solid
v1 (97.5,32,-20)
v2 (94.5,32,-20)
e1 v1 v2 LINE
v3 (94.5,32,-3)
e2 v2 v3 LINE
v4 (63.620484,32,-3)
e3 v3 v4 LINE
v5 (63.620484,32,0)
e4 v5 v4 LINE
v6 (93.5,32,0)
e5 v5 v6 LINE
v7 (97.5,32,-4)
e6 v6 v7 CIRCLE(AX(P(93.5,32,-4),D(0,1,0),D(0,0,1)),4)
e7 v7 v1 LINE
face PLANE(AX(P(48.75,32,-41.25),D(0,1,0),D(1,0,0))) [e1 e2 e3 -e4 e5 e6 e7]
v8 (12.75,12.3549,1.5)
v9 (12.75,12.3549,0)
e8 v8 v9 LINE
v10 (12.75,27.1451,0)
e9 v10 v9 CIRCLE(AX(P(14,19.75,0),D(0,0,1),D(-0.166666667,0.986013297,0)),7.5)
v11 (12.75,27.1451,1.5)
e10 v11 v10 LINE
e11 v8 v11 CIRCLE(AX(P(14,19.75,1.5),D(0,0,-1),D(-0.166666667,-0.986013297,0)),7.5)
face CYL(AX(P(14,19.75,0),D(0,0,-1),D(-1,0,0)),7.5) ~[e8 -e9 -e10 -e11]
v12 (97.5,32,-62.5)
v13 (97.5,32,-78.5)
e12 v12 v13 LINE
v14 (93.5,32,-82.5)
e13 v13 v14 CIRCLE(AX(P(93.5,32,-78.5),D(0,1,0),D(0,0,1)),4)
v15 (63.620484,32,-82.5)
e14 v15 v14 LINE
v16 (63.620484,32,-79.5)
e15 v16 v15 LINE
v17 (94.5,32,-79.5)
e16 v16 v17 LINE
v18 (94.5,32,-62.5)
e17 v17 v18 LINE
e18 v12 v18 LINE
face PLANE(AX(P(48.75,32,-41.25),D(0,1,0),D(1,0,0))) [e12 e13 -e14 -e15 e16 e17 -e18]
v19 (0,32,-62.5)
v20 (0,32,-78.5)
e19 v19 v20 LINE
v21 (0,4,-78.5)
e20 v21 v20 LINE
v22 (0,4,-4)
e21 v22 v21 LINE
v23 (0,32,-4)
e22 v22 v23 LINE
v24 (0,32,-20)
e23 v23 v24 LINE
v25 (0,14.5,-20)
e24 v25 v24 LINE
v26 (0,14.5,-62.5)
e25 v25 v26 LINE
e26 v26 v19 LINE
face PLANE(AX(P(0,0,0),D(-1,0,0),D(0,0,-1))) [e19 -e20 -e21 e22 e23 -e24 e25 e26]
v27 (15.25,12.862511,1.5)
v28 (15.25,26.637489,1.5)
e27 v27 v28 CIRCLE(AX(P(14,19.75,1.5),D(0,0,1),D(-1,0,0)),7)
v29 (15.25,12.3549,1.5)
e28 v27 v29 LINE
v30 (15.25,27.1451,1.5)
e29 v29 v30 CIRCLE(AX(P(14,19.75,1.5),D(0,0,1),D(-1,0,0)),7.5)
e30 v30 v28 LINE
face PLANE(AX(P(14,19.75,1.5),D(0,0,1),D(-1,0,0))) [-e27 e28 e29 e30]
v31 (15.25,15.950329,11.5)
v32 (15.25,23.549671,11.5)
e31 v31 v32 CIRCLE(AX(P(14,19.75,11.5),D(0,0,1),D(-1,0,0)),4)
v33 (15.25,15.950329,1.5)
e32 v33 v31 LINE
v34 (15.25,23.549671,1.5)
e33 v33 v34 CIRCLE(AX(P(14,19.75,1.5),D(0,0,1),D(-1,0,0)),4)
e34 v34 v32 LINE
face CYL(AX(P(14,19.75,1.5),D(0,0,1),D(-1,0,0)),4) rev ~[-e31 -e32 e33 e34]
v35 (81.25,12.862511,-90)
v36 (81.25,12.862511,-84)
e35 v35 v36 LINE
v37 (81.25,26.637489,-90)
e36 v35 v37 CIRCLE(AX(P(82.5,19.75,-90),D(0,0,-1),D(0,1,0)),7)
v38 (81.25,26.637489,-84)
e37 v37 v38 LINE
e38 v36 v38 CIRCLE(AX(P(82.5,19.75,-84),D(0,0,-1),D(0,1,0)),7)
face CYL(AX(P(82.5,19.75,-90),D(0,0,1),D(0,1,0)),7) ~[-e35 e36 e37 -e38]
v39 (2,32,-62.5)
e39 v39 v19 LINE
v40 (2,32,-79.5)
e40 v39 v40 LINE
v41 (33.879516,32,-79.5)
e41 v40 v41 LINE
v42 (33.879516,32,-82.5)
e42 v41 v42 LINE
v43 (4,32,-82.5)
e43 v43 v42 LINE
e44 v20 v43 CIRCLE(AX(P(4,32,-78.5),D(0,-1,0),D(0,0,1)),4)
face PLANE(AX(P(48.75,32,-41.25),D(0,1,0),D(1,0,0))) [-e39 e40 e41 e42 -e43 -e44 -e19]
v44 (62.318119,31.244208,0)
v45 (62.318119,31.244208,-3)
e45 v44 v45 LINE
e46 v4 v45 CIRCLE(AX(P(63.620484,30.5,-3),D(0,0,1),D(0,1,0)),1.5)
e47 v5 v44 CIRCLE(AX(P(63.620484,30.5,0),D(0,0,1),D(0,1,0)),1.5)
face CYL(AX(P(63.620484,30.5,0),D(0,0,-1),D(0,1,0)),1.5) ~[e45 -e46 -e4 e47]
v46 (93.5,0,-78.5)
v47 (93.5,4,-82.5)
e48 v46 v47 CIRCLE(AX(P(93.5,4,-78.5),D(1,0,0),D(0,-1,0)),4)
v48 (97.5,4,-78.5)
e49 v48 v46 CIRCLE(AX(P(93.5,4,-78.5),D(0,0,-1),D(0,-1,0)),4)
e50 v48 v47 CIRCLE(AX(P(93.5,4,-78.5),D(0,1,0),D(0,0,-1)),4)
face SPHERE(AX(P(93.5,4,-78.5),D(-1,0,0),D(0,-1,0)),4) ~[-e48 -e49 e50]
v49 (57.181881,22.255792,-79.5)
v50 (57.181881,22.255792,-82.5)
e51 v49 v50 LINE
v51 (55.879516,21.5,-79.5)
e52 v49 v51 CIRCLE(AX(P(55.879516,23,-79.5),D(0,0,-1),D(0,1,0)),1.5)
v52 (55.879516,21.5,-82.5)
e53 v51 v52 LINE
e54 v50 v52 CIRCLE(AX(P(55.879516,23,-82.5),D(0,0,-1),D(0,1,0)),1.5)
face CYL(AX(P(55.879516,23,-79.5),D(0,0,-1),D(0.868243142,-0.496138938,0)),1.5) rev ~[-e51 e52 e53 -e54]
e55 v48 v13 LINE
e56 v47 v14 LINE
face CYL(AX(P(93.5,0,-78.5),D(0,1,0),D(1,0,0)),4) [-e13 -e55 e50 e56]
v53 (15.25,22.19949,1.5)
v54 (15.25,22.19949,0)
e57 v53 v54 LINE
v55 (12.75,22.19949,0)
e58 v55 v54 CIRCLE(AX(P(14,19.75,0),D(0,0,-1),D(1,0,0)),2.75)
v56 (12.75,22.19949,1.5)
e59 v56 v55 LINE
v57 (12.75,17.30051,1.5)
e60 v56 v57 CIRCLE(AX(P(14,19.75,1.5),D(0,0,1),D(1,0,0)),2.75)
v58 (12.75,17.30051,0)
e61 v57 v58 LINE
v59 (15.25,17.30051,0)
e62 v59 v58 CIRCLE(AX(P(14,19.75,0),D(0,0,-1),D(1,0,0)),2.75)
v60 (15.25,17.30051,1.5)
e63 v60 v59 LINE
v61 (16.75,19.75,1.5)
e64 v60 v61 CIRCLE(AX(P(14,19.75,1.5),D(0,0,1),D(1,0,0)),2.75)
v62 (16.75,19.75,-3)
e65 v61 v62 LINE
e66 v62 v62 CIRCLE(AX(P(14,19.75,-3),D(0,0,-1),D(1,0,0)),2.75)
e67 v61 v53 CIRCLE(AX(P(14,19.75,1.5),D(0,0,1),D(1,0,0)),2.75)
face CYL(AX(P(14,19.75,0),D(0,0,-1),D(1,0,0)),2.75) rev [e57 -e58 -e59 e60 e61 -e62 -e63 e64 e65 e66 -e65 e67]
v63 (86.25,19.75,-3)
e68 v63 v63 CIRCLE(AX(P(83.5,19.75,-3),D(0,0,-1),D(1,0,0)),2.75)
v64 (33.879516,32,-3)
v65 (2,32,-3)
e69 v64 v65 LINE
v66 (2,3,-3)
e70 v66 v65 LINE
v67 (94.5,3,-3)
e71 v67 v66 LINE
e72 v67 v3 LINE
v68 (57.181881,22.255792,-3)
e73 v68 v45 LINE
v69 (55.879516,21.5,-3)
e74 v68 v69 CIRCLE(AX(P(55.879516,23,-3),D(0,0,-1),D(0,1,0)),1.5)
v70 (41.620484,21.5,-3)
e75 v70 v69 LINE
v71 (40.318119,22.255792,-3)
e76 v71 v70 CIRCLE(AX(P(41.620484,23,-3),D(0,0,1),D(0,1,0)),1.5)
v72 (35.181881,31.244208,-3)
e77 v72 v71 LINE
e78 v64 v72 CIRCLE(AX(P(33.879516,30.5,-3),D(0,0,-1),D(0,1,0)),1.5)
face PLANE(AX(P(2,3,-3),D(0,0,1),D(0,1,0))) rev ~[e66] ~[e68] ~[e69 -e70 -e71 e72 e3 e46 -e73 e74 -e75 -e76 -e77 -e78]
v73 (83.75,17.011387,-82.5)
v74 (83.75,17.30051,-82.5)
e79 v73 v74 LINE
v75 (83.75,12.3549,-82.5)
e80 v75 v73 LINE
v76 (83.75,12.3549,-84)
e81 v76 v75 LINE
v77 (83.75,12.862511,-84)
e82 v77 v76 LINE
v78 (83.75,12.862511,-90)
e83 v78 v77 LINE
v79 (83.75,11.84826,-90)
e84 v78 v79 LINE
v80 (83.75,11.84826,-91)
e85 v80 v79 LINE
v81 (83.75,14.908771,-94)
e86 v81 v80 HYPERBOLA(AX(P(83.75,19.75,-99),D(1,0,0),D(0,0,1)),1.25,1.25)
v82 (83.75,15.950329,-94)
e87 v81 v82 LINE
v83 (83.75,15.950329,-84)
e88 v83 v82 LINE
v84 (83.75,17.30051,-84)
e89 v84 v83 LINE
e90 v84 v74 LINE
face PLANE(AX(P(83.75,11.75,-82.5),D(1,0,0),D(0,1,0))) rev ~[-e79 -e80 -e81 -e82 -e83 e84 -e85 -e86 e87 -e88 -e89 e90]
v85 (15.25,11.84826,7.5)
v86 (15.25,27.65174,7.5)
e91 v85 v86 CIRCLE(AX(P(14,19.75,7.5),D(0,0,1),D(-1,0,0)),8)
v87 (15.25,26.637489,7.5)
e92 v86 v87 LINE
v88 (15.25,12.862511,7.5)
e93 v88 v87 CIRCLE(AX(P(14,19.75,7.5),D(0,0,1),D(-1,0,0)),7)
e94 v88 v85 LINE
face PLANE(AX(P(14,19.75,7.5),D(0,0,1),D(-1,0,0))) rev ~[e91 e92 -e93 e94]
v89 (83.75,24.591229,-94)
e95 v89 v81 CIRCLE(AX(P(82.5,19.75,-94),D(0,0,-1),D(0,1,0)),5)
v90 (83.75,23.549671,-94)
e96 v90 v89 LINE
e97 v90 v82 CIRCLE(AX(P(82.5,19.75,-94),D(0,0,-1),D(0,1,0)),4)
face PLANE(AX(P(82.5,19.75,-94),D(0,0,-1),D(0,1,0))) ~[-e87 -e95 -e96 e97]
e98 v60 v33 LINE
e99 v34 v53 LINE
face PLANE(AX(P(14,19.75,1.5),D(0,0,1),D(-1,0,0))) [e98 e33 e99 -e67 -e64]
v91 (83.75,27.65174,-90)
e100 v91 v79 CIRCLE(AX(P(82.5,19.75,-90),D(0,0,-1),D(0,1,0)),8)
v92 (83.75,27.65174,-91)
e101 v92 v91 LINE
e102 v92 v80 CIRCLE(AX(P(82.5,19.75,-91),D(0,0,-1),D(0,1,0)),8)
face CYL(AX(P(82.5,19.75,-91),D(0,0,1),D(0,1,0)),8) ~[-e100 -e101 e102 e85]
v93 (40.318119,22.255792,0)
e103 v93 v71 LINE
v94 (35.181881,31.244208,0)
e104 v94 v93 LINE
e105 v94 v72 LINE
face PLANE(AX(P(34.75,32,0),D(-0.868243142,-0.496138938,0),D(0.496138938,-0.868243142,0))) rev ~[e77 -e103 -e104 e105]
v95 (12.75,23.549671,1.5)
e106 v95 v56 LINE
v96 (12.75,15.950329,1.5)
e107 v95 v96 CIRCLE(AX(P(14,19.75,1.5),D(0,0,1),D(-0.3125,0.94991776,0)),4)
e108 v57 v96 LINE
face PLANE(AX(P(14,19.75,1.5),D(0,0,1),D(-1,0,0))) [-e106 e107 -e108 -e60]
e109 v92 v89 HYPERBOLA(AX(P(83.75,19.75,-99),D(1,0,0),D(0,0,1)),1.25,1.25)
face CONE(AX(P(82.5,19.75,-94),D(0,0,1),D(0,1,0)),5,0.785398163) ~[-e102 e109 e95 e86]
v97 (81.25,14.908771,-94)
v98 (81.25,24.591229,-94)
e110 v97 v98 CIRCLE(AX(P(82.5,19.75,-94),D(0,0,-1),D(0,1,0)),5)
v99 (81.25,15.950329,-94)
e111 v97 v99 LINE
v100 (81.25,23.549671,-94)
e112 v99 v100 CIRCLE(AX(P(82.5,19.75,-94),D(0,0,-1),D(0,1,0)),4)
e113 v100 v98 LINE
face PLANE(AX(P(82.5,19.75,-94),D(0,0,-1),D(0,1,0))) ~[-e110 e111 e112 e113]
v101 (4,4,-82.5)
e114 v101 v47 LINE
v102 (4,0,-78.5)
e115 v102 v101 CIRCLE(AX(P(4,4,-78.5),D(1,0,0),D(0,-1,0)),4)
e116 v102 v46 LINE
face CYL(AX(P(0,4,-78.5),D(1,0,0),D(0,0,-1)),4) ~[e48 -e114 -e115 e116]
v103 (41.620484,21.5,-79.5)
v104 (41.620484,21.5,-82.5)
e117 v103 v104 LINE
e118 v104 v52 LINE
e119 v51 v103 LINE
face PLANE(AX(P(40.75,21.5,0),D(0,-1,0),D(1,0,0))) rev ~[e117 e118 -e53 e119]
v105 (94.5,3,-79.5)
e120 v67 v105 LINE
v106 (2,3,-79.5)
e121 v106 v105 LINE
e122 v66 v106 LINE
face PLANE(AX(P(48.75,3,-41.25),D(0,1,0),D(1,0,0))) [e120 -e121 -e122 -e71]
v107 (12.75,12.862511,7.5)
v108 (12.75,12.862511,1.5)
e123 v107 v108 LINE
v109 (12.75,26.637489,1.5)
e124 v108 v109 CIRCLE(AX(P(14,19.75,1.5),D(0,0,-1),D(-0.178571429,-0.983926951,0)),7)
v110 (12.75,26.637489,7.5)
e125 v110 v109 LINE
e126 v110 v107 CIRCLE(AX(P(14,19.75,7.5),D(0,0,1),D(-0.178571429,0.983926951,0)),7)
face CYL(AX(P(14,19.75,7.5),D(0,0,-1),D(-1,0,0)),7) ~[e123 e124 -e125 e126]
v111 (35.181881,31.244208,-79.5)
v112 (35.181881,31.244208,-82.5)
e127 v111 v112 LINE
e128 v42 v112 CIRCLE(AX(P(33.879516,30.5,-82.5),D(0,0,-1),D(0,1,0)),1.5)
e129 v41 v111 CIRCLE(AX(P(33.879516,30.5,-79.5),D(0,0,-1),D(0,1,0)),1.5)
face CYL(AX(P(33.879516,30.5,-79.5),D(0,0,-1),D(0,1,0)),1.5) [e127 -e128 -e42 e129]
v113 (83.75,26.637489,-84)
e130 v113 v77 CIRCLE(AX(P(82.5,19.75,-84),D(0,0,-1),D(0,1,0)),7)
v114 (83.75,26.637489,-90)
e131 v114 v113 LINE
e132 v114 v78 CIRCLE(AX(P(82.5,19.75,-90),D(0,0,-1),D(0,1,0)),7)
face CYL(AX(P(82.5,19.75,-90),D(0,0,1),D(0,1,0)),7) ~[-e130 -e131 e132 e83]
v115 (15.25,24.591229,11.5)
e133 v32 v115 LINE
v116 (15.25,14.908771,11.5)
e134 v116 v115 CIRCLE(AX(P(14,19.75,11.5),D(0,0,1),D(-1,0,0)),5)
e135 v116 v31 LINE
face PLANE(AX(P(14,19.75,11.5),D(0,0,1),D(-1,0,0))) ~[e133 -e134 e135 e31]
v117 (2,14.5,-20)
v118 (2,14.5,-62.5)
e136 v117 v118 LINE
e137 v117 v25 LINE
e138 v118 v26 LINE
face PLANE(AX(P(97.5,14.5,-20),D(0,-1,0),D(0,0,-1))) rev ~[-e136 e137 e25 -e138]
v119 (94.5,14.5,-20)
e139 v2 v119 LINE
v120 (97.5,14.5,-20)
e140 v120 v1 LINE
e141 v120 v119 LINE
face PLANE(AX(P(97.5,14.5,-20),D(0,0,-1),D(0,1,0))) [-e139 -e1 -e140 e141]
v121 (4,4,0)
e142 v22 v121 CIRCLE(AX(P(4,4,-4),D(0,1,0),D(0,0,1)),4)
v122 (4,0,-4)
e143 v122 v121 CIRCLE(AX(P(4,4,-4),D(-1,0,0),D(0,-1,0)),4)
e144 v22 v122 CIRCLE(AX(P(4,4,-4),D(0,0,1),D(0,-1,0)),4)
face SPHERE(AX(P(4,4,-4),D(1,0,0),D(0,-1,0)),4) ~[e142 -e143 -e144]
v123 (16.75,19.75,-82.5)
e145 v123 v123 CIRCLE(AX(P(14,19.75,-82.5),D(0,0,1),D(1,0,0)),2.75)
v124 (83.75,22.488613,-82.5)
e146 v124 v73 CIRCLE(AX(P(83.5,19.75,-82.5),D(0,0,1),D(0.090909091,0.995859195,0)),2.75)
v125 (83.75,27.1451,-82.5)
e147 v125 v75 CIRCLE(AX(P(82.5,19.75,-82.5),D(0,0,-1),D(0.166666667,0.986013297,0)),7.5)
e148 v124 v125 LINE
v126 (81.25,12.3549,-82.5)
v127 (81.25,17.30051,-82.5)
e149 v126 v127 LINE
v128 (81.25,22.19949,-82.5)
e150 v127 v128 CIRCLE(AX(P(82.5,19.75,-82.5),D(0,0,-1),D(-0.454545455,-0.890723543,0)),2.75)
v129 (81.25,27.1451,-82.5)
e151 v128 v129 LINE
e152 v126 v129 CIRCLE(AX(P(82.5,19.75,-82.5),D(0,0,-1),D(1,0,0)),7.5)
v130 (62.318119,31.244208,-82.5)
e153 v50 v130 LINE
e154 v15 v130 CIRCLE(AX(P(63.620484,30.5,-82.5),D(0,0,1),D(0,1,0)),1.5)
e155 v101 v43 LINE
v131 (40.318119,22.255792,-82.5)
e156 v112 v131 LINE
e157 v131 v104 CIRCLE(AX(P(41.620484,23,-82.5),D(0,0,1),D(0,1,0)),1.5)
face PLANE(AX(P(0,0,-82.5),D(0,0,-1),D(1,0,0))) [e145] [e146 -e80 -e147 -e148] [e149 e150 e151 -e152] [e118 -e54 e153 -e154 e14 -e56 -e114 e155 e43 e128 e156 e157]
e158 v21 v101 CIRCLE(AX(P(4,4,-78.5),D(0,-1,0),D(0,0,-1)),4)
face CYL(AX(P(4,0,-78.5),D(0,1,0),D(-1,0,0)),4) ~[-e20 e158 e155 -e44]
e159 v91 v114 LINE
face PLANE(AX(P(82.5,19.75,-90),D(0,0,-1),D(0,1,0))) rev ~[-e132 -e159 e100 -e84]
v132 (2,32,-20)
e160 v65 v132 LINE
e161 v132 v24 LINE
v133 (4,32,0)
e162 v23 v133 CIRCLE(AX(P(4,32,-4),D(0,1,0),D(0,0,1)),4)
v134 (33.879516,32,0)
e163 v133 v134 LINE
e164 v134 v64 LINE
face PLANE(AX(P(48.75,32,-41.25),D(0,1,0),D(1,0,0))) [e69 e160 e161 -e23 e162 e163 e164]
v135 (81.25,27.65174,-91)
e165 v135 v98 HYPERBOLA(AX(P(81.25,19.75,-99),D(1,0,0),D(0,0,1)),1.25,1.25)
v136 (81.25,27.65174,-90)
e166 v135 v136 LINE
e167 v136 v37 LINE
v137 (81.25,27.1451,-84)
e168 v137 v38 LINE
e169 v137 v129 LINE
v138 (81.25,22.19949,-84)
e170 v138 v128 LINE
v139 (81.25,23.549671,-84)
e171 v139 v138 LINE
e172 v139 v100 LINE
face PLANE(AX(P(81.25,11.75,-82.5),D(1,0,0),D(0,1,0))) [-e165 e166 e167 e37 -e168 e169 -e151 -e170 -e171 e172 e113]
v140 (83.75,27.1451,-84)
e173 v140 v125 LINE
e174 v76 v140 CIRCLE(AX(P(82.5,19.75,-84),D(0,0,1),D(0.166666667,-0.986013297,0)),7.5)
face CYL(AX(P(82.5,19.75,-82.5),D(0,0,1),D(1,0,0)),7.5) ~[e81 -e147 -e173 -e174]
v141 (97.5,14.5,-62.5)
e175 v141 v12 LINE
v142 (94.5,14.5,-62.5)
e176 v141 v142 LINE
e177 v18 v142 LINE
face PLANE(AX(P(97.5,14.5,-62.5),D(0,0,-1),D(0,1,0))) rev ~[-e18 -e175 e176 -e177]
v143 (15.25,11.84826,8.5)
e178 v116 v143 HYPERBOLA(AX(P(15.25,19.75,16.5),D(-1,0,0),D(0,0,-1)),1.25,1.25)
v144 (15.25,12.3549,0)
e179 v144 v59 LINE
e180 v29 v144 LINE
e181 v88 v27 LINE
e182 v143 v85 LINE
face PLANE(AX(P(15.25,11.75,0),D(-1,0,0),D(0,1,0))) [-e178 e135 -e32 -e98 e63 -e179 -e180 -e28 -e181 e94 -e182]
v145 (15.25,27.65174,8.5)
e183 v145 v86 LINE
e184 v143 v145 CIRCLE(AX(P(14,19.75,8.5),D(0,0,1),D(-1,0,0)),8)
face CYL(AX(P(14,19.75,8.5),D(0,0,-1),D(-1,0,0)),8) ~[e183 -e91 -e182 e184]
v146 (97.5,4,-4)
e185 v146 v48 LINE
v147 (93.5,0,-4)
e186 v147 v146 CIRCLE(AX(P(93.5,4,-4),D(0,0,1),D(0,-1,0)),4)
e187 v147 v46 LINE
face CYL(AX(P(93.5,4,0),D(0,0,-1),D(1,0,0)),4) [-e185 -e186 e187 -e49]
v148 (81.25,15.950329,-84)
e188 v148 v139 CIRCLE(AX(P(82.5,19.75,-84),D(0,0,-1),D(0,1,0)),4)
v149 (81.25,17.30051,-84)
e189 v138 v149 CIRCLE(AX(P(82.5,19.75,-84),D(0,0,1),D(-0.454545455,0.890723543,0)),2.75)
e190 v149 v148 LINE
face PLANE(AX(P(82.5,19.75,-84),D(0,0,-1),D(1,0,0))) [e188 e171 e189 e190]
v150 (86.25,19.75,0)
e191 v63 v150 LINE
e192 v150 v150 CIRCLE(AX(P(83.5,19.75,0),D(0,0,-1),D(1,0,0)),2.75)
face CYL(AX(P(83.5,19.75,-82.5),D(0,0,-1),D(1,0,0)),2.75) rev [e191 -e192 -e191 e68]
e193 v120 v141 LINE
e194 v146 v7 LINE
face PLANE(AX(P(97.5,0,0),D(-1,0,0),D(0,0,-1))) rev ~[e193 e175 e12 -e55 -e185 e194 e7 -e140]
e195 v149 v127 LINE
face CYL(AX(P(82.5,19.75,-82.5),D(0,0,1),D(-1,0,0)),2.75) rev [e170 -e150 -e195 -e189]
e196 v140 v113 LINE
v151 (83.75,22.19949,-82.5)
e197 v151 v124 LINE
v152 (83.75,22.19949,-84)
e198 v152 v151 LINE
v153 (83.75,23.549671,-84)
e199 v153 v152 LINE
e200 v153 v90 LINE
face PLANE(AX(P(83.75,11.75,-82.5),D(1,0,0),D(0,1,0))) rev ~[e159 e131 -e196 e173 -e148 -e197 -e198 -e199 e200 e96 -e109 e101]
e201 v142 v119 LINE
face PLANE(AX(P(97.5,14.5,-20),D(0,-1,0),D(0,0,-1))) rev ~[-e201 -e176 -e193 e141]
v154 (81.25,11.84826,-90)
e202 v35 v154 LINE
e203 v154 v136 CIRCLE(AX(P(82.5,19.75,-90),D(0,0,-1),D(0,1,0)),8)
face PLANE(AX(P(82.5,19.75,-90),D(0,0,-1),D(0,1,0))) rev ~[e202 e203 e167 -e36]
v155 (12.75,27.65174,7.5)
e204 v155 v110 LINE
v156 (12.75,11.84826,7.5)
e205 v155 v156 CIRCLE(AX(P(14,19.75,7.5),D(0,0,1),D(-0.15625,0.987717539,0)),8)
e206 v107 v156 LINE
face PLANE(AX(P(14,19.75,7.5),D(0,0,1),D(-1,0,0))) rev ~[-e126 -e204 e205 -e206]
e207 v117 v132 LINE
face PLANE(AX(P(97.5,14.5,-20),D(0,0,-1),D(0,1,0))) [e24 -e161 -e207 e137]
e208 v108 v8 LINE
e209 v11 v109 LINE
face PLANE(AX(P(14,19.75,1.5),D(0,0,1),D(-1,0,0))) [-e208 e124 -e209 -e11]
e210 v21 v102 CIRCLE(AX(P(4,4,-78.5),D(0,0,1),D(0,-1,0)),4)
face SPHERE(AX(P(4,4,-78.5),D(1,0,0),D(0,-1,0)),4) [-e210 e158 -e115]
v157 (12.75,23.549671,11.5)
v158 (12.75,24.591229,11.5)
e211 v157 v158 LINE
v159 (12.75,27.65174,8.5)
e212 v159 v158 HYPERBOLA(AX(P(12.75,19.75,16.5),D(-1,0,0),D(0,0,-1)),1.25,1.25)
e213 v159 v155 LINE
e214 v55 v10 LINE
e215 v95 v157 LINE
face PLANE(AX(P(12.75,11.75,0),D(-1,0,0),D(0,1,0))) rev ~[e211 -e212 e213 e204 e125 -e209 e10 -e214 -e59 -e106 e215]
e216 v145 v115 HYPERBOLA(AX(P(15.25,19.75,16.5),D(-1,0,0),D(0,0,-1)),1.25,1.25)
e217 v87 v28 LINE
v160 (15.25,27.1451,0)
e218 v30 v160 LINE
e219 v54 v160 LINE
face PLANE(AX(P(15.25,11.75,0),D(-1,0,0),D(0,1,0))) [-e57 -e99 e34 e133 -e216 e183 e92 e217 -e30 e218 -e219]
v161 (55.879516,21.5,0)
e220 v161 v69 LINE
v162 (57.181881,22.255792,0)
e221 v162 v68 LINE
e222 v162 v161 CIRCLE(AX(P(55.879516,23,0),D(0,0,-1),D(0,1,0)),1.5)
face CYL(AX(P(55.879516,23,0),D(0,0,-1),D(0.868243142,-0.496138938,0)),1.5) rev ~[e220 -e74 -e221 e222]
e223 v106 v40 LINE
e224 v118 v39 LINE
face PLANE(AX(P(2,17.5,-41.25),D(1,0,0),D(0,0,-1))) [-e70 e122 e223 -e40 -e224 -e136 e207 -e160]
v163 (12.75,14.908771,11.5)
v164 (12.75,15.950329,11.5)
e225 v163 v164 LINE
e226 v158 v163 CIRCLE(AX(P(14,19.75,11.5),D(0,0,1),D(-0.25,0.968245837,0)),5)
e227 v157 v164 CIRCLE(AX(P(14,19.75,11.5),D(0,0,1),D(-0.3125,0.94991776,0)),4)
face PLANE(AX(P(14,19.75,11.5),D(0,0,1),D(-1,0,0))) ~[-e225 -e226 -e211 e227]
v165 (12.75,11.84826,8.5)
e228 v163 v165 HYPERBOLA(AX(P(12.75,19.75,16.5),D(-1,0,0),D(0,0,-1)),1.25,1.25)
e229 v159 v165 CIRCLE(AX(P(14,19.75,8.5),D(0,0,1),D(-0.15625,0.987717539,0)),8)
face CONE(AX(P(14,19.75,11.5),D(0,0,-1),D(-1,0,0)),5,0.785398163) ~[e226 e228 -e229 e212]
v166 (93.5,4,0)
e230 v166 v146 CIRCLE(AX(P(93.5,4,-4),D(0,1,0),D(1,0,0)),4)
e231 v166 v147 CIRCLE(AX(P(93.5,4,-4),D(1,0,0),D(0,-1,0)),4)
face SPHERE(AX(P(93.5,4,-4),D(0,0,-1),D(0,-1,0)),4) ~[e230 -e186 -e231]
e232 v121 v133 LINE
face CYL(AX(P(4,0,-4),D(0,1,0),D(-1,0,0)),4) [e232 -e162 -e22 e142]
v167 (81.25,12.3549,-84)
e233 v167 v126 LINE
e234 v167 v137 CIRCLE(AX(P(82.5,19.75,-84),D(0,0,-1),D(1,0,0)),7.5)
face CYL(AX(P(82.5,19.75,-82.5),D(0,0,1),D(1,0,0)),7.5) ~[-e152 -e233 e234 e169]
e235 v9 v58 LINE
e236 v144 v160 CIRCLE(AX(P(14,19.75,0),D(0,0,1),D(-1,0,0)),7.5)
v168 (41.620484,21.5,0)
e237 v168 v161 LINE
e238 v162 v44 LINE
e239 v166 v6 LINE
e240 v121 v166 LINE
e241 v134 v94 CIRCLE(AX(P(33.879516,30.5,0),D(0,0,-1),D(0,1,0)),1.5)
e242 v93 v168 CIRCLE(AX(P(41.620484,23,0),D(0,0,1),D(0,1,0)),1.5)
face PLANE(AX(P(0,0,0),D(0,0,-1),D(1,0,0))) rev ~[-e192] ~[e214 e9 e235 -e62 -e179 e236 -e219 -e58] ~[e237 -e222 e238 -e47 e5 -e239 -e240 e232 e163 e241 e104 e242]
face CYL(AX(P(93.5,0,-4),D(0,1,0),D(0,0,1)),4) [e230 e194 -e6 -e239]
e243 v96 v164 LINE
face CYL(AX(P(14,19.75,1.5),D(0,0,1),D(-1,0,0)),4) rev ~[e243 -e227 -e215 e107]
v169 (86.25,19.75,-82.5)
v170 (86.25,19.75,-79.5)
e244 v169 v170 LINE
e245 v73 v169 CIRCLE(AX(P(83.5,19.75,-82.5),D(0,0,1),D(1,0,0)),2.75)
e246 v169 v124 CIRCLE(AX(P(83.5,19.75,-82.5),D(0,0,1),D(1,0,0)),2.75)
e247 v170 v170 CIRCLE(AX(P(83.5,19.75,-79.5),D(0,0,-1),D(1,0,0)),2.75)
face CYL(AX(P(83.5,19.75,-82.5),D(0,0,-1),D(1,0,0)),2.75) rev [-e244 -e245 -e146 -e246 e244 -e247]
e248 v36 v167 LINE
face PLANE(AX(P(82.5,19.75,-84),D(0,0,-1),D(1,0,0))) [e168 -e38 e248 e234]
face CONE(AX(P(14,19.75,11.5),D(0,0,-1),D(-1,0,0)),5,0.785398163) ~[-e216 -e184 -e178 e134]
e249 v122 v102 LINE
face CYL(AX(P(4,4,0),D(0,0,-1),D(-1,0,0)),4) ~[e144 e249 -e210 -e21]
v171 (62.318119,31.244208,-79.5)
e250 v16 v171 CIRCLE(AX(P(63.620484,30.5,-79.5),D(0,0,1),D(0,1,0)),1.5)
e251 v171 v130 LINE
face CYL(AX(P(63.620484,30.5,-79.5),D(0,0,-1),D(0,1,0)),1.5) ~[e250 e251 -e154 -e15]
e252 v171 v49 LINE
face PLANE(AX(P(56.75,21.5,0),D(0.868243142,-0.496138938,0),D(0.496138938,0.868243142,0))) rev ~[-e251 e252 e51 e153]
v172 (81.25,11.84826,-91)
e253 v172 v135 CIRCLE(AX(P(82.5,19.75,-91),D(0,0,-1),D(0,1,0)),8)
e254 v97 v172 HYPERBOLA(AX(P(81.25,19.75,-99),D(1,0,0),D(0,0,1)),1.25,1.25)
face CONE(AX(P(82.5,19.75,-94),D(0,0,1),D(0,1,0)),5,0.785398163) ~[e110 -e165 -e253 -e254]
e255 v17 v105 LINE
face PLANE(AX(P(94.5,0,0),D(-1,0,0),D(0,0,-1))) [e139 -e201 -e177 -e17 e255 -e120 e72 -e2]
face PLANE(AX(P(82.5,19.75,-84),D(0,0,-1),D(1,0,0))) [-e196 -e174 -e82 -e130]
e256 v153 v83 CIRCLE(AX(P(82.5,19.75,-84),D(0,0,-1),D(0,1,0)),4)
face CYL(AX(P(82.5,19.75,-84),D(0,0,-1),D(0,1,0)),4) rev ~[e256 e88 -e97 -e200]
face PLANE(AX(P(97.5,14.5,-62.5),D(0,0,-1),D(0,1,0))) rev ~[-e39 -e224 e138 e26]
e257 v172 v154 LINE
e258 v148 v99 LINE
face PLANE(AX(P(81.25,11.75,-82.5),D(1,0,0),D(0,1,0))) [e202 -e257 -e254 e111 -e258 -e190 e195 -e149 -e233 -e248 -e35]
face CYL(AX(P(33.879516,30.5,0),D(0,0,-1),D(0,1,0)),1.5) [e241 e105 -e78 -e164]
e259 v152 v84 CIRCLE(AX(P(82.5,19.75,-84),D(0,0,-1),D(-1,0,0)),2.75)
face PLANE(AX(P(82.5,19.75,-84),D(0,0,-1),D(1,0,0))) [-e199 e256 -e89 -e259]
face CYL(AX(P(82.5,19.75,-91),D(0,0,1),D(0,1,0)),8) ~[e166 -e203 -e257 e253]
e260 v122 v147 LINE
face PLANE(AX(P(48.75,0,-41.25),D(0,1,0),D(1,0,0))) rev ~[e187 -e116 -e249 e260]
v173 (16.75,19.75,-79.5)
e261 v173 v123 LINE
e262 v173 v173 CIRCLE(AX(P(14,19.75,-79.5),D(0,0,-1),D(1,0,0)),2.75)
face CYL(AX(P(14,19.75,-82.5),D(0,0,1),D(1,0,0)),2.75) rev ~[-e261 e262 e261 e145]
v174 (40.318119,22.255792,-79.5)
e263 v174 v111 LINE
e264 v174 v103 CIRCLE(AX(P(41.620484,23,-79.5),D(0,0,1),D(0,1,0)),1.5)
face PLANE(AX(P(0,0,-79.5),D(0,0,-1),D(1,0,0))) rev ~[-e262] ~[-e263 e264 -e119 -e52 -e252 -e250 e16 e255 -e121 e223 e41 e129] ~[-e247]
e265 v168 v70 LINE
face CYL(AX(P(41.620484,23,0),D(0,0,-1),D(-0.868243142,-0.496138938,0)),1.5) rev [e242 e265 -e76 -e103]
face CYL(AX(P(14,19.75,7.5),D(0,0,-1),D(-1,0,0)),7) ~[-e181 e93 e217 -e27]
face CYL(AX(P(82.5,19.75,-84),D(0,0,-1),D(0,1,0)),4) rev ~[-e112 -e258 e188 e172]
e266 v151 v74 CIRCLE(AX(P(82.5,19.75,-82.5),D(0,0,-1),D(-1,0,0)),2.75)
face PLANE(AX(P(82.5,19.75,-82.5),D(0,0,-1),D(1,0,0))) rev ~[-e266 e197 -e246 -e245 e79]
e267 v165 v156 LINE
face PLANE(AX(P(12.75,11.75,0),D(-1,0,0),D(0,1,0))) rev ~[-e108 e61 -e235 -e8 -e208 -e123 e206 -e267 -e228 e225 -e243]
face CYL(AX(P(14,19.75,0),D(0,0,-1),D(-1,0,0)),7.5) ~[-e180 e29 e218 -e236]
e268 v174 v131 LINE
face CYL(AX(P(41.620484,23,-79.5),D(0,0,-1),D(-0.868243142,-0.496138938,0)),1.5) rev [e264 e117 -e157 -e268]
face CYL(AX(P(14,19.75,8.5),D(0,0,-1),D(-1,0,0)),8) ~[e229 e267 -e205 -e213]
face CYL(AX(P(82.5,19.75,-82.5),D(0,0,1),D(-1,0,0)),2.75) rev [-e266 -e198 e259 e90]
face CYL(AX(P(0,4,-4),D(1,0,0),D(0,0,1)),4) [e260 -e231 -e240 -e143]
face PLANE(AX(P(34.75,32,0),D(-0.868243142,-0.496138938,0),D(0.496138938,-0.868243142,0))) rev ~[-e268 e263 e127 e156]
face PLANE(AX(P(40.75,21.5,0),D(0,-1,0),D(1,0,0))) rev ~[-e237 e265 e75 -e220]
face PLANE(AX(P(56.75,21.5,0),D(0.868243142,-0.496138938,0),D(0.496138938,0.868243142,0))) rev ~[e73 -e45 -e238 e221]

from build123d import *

# Parameters (mm, degrees)
SKETCH1_W                                    = 97.5
SKETCH1_H                                    = 82.5
BOSS_EXTRUDE1_DEPTH                          = 32
SHELL1_T                                     = -3
FILLET1_R                                    = 4
CUT_EXTRUDE1_START                           = -1
SKETCH4_W                                    = 76.5
SKETCH4_H                                    = 29
CUT_EXTRUDE1_DEPTH                           = 83.5
CUT_EXTRUDE2_REACH                           = 133.668
SKETCH5_W                                    = 42.5
SKETCH5_H                                    = 17.5
CUT_EXTRUDE3_REACH                           = 133.668
FILLET2_R                                    = 1.5
CUT_EXTRUDE4_START                           = -82.5
SKETCH7_R                                    = 2.75
CUT_EXTRUDE4_DEPTH                           = 82.5
SKETCH9_R                                    = 7.5
SKETCH9_R_2                                  = 2.75
BOSS_EXTRUDE3_DEPTH                          = 1.5
CUT_EXTRUDE5_REACH                           = 133.668
SKETCH11_W                                   = 2.5
SKETCH11_H                                   = 16
MIRROR2_AT_THE_SECOND_PLANE_COPY_1_SKETC_R   = 7.5
MIRROR2_AT_THE_SECOND_PLANE_COPY_1_SKETC_R_2 = 2.75
MIRROR2_AT_THE_SECOND_PLANE_COPY_1_DEPTH     = 1.5
MIRROR2_AT_THE_SECOND_PLANE_COPY_3_REACH     = 133.668
MIRROR2_AT_THE_SECOND_PLANE_COPY_3_SKETC_W   = 2.5
MIRROR2_AT_THE_SECOND_PLANE_COPY_3_SKETC_H   = 16
SKETCH12_W                                   = 25.238507428
SKETCH12_H                                   = 22.458767107
CUT_EXTRUDE6_DEPTH                           = 11.5
CUT_EXTRUDE7_REACH                           = 141.163
SKETCH13_W                                   = 31.509123874
SKETCH13_H                                   = 19.339493898


with BuildPart() as part:
    # Sketch1 → Boss-Extrude1 (new body)
    with BuildSketch(Plane(origin=(0, 0, 0), x_dir=(1, 0, 0), z_dir=(0, 1, 0))):
        with Locations((48.75, 41.25)):
            Rectangle(SKETCH1_W, SKETCH1_H)
    extrude(amount=BOSS_EXTRUDE1_DEPTH)

    # Shell1
    shell1_openings = [part.faces().sort_by_distance(p)[0] for p in [
        (48.75, 32, -41.25),
    ]]
    offset(amount=SHELL1_T, openings=shell1_openings, kind=Kind.INTERSECTION)

    # Fillet1
    fillet1_edges = [part.edges().sort_by_distance(p)[0] for p in [
        (48.75, 0, -82.5),
        (97.5, 0, -41.25),
        (48.75, 0, 0),
        (0, 0, -41.25),
        (0, 16, -82.5),
        (97.5, 16, -82.5),
        (97.5, 16, 0),
        (0, 16, 0),
    ]]
    fillet(fillet1_edges, radius=FILLET1_R)

    # Sketch4 → Cut-Extrude1 (cut)
    with BuildSketch(Plane(origin=(3, 0, 0), x_dir=(0, 0, -1), z_dir=(1, 0, 0)).offset(CUT_EXTRUDE1_START)):
        with Locations((41.25, 17.5)):
            Rectangle(SKETCH4_W, SKETCH4_H)
    extrude(amount=CUT_EXTRUDE1_DEPTH, mode=Mode.SUBTRACT)

    # Cut-Extrude2: up to this face of the body (flat: up to its plane)
    cut_extrude2_end = Plane(part.part.faces().sort_by_distance((0, 18, -41.25))[0])
    # Sketch5 → Cut-Extrude2 (cut, up to the picked face)
    with BuildSketch(Plane(origin=(97.5, 0, 0), x_dir=(0, 0, -1), z_dir=(1, 0, 0)), mode=Mode.PRIVATE) as cut_extrude2_sk1:
        with Locations((41.25, 23.25)):
            Rectangle(SKETCH5_W, SKETCH5_H)
    cut_extrude2_tool1 = split(extrude(cut_extrude2_sk1.sketch, amount=-CUT_EXTRUDE2_REACH, mode=Mode.PRIVATE), bisect_by=cut_extrude2_end, keep=Keep.BOTH, mode=Mode.PRIVATE)
    add(cut_extrude2_tool1.solids().sort_by(Axis((97.5, 23.25, -41.25), (-1, 0, 0)))[0], mode=Mode.SUBTRACT)

    # Cut-Extrude3: up to this face of the body (flat: up to its plane)
    cut_extrude3_end = Plane(part.part.faces().sort_by_distance((48.75, 18, -82.5))[0])
    # Sketch6 → Cut-Extrude3 (cut, up to the picked face)
    with BuildSketch(Plane.XY, mode=Mode.PRIVATE) as cut_extrude3_sk1:
        Polygon((40.75, 21.5), (56.75, 21.5), (62.75, 32), (34.75, 32), align=None)
    cut_extrude3_tool1 = split(extrude(cut_extrude3_sk1.sketch, amount=-CUT_EXTRUDE3_REACH, mode=Mode.PRIVATE), bisect_by=cut_extrude3_end, keep=Keep.BOTH, mode=Mode.PRIVATE)
    add(cut_extrude3_tool1.solids().sort_by(Axis((48.75, 27.227273, 0), (0, 0, -1)))[0], mode=Mode.SUBTRACT)

    # Fillet2
    fillet2_edges = [part.edges().sort_by_distance(p)[0] for p in [
        (40.75, 21.5, -1.5),
        (34.75, 32, -1.5),
        (62.75, 32, -1.5),
        (56.75, 21.5, -1.5),
        (40.75, 21.5, -81),
        (34.75, 32, -81),
        (62.75, 32, -81),
        (56.75, 21.5, -81),
    ]]
    fillet(fillet2_edges, radius=FILLET2_R)

    # Sketch7 → Cut-Extrude4 (cut)
    with BuildSketch(Plane.XY.offset(CUT_EXTRUDE4_START)):
        with Locations((14, 19.75)):
            Circle(SKETCH7_R)
        with Locations((83.5, 19.75)):
            Circle(SKETCH7_R)
    extrude(amount=CUT_EXTRUDE4_DEPTH, mode=Mode.SUBTRACT)

    # Sketch9 → Boss-Extrude3 (add)
    with BuildSketch(Plane.XY):
        with Locations(Location((14, 19.75, 0), (0, 0, 180))):
            Circle(SKETCH9_R)
        with Locations((14, 19.75)):
            Circle(SKETCH9_R_2, mode=Mode.SUBTRACT)
    boss_extrude3 = extrude(amount=BOSS_EXTRUDE3_DEPTH)

    # Sketch10 → Revolve1 (revolve)
    with BuildSketch(Plane.ZY.offset(-14), mode=Mode.PRIVATE) as revolve1_sk:
        Polygon((11.5, 24.75), (8.5, 27.75), (7.5, 27.75), (7.5, 26.75), (1.5, 26.75), (1.5, 23.75), (11.5, 23.75), align=None)
    revolve1 = revolve(revolve1_sk.sketch.rotate(Axis((14, 19.75, 0), (0, 0, 1)), 90), axis=Axis((14, 19.75, 0), (0, 0, 1)))

    # Cut-Extrude5: up to this face of the body (flat: up to its plane)
    cut_extrude5_end = Plane(part.part.faces().sort_by_distance((18.141421356, 19.75, 11.5))[0])
    # Sketch11 → Cut-Extrude5 (cut, up to the picked face)
    with BuildSketch(Plane.XY, mode=Mode.PRIVATE) as cut_extrude5_sk1:
        with Locations((14, 19.75)):
            Rectangle(SKETCH11_W, SKETCH11_H)
    cut_extrude5_tool1 = split(extrude(cut_extrude5_sk1.sketch, amount=CUT_EXTRUDE5_REACH, mode=Mode.PRIVATE), bisect_by=cut_extrude5_end, keep=Keep.BOTH, mode=Mode.PRIVATE)
    cut_extrude5 = cut_extrude5_tool1.solids().sort_by(Axis((14, 19.75, 0), (0, 0, 1)))[0]
    add(cut_extrude5, mode=Mode.SUBTRACT)

    # Mirror2: Boss-Extrude3, Revolve1, Cut-Extrude5 across plane
    add(boss_extrude3.mirror(Plane.ZY.offset(-48.25)))
    add(revolve1.mirror(Plane.ZY.offset(-48.25)))
    add(cut_extrude5.mirror(Plane.ZY.offset(-48.25)), mode=Mode.SUBTRACT)

    # Mirror2 at the second plane: Boss-Extrude3, Revolve1, Cut-Extrude5 across plane
    add(boss_extrude3.mirror(Plane.XY.offset(-41.25)))
    add(revolve1.mirror(Plane.XY.offset(-41.25)))
    add(cut_extrude5.mirror(Plane.XY.offset(-41.25)), mode=Mode.SUBTRACT)

    # Mirror2 at the second plane copy 1 sketc → Mirror2 at the second plane copy 1 (add)
    with BuildSketch(Plane(origin=(96.5, 0, -82.5), x_dir=(-1, 0, 0), z_dir=(0, 0, -1))):
        with Locations(Location((14, 19.75, 0), (0, 0, 180))):
            Circle(MIRROR2_AT_THE_SECOND_PLANE_COPY_1_SKETC_R)
        with Locations((14, 19.75)):
            Circle(MIRROR2_AT_THE_SECOND_PLANE_COPY_1_SKETC_R_2, mode=Mode.SUBTRACT)
    extrude(amount=MIRROR2_AT_THE_SECOND_PLANE_COPY_1_DEPTH)

    # Mirror2 at the second plane copy 2 sketc → Mirror2 at the second plane copy 2 (revolve)
    with BuildSketch(Plane(origin=(82.5, 0, -82.5), x_dir=(0, 0, -1), z_dir=(1, 0, 0))):
        Polygon((11.5, 24.75), (8.5, 27.75), (7.5, 27.75), (7.5, 26.75), (1.5, 26.75), (1.5, 23.75), (11.5, 23.75), align=None)
    revolve(axis=Axis((82.5, 19.75, -82.5), (0, 0, -1)))

    # Mirror2 at the second plane copy 3: up to this face of the body (flat: up to its plane)
    mirror2_at_the_second_plane_copy_3_end = Plane(part.part.faces().sort_by_distance((78.358578644, 19.75, -94))[0])
    # Mirror2 at the second plane copy 3 sketc → Mirror2 at the second plane copy 3 (cut, up to the picked face)
    with BuildSketch(Plane(origin=(96.5, 0, -82.5), x_dir=(-1, 0, 0), z_dir=(0, 0, -1)), mode=Mode.PRIVATE) as mirror2_at_the_second_plane_copy_3_sk1:
        with Locations((14, 19.75)):
            Rectangle(MIRROR2_AT_THE_SECOND_PLANE_COPY_3_SKETC_W, MIRROR2_AT_THE_SECOND_PLANE_COPY_3_SKETC_H)
    mirror2_at_the_second_plane_copy_3_tool1 = split(extrude(mirror2_at_the_second_plane_copy_3_sk1.sketch, amount=MIRROR2_AT_THE_SECOND_PLANE_COPY_3_REACH, mode=Mode.PRIVATE), bisect_by=mirror2_at_the_second_plane_copy_3_end, keep=Keep.BOTH, mode=Mode.PRIVATE)
    add(mirror2_at_the_second_plane_copy_3_tool1.solids().sort_by(Axis((82.5, 19.75, -82.5), (0, 0, -1)))[0], mode=Mode.SUBTRACT)

    # Sketch12 → Cut-Extrude6 (cut)
    with BuildSketch(Plane(origin=(0, 0, -82.5), x_dir=(-1, 0, 0), z_dir=(0, 0, -1))):
        with Locations((-16.619253714, 19.183530238)):
            Rectangle(SKETCH12_W, SKETCH12_H)
    extrude(amount=CUT_EXTRUDE6_DEPTH, mode=Mode.SUBTRACT)

    # Sketch13 → Cut-Extrude7 (cut, up to next)
    with BuildSketch(Plane.XY, mode=Mode.PRIVATE) as cut_extrude7_sk1:
        with Locations((77.745438063, 20.1193122)):
            Rectangle(SKETCH13_W, SKETCH13_H)
    cut_extrude7_tool1 = extrude(cut_extrude7_sk1.sketch, amount=CUT_EXTRUDE7_REACH, mode=Mode.PRIVATE) & part.part
    add(cut_extrude7_tool1.solids().sort_by_distance((77.745438, 20.119312, 0))[0], mode=Mode.SUBTRACT)
    add(cut_extrude7_tool1.solids().sort_by_distance((77.745438, 20.119312, 0))[1], mode=Mode.SUBTRACT)


solid = part.part
